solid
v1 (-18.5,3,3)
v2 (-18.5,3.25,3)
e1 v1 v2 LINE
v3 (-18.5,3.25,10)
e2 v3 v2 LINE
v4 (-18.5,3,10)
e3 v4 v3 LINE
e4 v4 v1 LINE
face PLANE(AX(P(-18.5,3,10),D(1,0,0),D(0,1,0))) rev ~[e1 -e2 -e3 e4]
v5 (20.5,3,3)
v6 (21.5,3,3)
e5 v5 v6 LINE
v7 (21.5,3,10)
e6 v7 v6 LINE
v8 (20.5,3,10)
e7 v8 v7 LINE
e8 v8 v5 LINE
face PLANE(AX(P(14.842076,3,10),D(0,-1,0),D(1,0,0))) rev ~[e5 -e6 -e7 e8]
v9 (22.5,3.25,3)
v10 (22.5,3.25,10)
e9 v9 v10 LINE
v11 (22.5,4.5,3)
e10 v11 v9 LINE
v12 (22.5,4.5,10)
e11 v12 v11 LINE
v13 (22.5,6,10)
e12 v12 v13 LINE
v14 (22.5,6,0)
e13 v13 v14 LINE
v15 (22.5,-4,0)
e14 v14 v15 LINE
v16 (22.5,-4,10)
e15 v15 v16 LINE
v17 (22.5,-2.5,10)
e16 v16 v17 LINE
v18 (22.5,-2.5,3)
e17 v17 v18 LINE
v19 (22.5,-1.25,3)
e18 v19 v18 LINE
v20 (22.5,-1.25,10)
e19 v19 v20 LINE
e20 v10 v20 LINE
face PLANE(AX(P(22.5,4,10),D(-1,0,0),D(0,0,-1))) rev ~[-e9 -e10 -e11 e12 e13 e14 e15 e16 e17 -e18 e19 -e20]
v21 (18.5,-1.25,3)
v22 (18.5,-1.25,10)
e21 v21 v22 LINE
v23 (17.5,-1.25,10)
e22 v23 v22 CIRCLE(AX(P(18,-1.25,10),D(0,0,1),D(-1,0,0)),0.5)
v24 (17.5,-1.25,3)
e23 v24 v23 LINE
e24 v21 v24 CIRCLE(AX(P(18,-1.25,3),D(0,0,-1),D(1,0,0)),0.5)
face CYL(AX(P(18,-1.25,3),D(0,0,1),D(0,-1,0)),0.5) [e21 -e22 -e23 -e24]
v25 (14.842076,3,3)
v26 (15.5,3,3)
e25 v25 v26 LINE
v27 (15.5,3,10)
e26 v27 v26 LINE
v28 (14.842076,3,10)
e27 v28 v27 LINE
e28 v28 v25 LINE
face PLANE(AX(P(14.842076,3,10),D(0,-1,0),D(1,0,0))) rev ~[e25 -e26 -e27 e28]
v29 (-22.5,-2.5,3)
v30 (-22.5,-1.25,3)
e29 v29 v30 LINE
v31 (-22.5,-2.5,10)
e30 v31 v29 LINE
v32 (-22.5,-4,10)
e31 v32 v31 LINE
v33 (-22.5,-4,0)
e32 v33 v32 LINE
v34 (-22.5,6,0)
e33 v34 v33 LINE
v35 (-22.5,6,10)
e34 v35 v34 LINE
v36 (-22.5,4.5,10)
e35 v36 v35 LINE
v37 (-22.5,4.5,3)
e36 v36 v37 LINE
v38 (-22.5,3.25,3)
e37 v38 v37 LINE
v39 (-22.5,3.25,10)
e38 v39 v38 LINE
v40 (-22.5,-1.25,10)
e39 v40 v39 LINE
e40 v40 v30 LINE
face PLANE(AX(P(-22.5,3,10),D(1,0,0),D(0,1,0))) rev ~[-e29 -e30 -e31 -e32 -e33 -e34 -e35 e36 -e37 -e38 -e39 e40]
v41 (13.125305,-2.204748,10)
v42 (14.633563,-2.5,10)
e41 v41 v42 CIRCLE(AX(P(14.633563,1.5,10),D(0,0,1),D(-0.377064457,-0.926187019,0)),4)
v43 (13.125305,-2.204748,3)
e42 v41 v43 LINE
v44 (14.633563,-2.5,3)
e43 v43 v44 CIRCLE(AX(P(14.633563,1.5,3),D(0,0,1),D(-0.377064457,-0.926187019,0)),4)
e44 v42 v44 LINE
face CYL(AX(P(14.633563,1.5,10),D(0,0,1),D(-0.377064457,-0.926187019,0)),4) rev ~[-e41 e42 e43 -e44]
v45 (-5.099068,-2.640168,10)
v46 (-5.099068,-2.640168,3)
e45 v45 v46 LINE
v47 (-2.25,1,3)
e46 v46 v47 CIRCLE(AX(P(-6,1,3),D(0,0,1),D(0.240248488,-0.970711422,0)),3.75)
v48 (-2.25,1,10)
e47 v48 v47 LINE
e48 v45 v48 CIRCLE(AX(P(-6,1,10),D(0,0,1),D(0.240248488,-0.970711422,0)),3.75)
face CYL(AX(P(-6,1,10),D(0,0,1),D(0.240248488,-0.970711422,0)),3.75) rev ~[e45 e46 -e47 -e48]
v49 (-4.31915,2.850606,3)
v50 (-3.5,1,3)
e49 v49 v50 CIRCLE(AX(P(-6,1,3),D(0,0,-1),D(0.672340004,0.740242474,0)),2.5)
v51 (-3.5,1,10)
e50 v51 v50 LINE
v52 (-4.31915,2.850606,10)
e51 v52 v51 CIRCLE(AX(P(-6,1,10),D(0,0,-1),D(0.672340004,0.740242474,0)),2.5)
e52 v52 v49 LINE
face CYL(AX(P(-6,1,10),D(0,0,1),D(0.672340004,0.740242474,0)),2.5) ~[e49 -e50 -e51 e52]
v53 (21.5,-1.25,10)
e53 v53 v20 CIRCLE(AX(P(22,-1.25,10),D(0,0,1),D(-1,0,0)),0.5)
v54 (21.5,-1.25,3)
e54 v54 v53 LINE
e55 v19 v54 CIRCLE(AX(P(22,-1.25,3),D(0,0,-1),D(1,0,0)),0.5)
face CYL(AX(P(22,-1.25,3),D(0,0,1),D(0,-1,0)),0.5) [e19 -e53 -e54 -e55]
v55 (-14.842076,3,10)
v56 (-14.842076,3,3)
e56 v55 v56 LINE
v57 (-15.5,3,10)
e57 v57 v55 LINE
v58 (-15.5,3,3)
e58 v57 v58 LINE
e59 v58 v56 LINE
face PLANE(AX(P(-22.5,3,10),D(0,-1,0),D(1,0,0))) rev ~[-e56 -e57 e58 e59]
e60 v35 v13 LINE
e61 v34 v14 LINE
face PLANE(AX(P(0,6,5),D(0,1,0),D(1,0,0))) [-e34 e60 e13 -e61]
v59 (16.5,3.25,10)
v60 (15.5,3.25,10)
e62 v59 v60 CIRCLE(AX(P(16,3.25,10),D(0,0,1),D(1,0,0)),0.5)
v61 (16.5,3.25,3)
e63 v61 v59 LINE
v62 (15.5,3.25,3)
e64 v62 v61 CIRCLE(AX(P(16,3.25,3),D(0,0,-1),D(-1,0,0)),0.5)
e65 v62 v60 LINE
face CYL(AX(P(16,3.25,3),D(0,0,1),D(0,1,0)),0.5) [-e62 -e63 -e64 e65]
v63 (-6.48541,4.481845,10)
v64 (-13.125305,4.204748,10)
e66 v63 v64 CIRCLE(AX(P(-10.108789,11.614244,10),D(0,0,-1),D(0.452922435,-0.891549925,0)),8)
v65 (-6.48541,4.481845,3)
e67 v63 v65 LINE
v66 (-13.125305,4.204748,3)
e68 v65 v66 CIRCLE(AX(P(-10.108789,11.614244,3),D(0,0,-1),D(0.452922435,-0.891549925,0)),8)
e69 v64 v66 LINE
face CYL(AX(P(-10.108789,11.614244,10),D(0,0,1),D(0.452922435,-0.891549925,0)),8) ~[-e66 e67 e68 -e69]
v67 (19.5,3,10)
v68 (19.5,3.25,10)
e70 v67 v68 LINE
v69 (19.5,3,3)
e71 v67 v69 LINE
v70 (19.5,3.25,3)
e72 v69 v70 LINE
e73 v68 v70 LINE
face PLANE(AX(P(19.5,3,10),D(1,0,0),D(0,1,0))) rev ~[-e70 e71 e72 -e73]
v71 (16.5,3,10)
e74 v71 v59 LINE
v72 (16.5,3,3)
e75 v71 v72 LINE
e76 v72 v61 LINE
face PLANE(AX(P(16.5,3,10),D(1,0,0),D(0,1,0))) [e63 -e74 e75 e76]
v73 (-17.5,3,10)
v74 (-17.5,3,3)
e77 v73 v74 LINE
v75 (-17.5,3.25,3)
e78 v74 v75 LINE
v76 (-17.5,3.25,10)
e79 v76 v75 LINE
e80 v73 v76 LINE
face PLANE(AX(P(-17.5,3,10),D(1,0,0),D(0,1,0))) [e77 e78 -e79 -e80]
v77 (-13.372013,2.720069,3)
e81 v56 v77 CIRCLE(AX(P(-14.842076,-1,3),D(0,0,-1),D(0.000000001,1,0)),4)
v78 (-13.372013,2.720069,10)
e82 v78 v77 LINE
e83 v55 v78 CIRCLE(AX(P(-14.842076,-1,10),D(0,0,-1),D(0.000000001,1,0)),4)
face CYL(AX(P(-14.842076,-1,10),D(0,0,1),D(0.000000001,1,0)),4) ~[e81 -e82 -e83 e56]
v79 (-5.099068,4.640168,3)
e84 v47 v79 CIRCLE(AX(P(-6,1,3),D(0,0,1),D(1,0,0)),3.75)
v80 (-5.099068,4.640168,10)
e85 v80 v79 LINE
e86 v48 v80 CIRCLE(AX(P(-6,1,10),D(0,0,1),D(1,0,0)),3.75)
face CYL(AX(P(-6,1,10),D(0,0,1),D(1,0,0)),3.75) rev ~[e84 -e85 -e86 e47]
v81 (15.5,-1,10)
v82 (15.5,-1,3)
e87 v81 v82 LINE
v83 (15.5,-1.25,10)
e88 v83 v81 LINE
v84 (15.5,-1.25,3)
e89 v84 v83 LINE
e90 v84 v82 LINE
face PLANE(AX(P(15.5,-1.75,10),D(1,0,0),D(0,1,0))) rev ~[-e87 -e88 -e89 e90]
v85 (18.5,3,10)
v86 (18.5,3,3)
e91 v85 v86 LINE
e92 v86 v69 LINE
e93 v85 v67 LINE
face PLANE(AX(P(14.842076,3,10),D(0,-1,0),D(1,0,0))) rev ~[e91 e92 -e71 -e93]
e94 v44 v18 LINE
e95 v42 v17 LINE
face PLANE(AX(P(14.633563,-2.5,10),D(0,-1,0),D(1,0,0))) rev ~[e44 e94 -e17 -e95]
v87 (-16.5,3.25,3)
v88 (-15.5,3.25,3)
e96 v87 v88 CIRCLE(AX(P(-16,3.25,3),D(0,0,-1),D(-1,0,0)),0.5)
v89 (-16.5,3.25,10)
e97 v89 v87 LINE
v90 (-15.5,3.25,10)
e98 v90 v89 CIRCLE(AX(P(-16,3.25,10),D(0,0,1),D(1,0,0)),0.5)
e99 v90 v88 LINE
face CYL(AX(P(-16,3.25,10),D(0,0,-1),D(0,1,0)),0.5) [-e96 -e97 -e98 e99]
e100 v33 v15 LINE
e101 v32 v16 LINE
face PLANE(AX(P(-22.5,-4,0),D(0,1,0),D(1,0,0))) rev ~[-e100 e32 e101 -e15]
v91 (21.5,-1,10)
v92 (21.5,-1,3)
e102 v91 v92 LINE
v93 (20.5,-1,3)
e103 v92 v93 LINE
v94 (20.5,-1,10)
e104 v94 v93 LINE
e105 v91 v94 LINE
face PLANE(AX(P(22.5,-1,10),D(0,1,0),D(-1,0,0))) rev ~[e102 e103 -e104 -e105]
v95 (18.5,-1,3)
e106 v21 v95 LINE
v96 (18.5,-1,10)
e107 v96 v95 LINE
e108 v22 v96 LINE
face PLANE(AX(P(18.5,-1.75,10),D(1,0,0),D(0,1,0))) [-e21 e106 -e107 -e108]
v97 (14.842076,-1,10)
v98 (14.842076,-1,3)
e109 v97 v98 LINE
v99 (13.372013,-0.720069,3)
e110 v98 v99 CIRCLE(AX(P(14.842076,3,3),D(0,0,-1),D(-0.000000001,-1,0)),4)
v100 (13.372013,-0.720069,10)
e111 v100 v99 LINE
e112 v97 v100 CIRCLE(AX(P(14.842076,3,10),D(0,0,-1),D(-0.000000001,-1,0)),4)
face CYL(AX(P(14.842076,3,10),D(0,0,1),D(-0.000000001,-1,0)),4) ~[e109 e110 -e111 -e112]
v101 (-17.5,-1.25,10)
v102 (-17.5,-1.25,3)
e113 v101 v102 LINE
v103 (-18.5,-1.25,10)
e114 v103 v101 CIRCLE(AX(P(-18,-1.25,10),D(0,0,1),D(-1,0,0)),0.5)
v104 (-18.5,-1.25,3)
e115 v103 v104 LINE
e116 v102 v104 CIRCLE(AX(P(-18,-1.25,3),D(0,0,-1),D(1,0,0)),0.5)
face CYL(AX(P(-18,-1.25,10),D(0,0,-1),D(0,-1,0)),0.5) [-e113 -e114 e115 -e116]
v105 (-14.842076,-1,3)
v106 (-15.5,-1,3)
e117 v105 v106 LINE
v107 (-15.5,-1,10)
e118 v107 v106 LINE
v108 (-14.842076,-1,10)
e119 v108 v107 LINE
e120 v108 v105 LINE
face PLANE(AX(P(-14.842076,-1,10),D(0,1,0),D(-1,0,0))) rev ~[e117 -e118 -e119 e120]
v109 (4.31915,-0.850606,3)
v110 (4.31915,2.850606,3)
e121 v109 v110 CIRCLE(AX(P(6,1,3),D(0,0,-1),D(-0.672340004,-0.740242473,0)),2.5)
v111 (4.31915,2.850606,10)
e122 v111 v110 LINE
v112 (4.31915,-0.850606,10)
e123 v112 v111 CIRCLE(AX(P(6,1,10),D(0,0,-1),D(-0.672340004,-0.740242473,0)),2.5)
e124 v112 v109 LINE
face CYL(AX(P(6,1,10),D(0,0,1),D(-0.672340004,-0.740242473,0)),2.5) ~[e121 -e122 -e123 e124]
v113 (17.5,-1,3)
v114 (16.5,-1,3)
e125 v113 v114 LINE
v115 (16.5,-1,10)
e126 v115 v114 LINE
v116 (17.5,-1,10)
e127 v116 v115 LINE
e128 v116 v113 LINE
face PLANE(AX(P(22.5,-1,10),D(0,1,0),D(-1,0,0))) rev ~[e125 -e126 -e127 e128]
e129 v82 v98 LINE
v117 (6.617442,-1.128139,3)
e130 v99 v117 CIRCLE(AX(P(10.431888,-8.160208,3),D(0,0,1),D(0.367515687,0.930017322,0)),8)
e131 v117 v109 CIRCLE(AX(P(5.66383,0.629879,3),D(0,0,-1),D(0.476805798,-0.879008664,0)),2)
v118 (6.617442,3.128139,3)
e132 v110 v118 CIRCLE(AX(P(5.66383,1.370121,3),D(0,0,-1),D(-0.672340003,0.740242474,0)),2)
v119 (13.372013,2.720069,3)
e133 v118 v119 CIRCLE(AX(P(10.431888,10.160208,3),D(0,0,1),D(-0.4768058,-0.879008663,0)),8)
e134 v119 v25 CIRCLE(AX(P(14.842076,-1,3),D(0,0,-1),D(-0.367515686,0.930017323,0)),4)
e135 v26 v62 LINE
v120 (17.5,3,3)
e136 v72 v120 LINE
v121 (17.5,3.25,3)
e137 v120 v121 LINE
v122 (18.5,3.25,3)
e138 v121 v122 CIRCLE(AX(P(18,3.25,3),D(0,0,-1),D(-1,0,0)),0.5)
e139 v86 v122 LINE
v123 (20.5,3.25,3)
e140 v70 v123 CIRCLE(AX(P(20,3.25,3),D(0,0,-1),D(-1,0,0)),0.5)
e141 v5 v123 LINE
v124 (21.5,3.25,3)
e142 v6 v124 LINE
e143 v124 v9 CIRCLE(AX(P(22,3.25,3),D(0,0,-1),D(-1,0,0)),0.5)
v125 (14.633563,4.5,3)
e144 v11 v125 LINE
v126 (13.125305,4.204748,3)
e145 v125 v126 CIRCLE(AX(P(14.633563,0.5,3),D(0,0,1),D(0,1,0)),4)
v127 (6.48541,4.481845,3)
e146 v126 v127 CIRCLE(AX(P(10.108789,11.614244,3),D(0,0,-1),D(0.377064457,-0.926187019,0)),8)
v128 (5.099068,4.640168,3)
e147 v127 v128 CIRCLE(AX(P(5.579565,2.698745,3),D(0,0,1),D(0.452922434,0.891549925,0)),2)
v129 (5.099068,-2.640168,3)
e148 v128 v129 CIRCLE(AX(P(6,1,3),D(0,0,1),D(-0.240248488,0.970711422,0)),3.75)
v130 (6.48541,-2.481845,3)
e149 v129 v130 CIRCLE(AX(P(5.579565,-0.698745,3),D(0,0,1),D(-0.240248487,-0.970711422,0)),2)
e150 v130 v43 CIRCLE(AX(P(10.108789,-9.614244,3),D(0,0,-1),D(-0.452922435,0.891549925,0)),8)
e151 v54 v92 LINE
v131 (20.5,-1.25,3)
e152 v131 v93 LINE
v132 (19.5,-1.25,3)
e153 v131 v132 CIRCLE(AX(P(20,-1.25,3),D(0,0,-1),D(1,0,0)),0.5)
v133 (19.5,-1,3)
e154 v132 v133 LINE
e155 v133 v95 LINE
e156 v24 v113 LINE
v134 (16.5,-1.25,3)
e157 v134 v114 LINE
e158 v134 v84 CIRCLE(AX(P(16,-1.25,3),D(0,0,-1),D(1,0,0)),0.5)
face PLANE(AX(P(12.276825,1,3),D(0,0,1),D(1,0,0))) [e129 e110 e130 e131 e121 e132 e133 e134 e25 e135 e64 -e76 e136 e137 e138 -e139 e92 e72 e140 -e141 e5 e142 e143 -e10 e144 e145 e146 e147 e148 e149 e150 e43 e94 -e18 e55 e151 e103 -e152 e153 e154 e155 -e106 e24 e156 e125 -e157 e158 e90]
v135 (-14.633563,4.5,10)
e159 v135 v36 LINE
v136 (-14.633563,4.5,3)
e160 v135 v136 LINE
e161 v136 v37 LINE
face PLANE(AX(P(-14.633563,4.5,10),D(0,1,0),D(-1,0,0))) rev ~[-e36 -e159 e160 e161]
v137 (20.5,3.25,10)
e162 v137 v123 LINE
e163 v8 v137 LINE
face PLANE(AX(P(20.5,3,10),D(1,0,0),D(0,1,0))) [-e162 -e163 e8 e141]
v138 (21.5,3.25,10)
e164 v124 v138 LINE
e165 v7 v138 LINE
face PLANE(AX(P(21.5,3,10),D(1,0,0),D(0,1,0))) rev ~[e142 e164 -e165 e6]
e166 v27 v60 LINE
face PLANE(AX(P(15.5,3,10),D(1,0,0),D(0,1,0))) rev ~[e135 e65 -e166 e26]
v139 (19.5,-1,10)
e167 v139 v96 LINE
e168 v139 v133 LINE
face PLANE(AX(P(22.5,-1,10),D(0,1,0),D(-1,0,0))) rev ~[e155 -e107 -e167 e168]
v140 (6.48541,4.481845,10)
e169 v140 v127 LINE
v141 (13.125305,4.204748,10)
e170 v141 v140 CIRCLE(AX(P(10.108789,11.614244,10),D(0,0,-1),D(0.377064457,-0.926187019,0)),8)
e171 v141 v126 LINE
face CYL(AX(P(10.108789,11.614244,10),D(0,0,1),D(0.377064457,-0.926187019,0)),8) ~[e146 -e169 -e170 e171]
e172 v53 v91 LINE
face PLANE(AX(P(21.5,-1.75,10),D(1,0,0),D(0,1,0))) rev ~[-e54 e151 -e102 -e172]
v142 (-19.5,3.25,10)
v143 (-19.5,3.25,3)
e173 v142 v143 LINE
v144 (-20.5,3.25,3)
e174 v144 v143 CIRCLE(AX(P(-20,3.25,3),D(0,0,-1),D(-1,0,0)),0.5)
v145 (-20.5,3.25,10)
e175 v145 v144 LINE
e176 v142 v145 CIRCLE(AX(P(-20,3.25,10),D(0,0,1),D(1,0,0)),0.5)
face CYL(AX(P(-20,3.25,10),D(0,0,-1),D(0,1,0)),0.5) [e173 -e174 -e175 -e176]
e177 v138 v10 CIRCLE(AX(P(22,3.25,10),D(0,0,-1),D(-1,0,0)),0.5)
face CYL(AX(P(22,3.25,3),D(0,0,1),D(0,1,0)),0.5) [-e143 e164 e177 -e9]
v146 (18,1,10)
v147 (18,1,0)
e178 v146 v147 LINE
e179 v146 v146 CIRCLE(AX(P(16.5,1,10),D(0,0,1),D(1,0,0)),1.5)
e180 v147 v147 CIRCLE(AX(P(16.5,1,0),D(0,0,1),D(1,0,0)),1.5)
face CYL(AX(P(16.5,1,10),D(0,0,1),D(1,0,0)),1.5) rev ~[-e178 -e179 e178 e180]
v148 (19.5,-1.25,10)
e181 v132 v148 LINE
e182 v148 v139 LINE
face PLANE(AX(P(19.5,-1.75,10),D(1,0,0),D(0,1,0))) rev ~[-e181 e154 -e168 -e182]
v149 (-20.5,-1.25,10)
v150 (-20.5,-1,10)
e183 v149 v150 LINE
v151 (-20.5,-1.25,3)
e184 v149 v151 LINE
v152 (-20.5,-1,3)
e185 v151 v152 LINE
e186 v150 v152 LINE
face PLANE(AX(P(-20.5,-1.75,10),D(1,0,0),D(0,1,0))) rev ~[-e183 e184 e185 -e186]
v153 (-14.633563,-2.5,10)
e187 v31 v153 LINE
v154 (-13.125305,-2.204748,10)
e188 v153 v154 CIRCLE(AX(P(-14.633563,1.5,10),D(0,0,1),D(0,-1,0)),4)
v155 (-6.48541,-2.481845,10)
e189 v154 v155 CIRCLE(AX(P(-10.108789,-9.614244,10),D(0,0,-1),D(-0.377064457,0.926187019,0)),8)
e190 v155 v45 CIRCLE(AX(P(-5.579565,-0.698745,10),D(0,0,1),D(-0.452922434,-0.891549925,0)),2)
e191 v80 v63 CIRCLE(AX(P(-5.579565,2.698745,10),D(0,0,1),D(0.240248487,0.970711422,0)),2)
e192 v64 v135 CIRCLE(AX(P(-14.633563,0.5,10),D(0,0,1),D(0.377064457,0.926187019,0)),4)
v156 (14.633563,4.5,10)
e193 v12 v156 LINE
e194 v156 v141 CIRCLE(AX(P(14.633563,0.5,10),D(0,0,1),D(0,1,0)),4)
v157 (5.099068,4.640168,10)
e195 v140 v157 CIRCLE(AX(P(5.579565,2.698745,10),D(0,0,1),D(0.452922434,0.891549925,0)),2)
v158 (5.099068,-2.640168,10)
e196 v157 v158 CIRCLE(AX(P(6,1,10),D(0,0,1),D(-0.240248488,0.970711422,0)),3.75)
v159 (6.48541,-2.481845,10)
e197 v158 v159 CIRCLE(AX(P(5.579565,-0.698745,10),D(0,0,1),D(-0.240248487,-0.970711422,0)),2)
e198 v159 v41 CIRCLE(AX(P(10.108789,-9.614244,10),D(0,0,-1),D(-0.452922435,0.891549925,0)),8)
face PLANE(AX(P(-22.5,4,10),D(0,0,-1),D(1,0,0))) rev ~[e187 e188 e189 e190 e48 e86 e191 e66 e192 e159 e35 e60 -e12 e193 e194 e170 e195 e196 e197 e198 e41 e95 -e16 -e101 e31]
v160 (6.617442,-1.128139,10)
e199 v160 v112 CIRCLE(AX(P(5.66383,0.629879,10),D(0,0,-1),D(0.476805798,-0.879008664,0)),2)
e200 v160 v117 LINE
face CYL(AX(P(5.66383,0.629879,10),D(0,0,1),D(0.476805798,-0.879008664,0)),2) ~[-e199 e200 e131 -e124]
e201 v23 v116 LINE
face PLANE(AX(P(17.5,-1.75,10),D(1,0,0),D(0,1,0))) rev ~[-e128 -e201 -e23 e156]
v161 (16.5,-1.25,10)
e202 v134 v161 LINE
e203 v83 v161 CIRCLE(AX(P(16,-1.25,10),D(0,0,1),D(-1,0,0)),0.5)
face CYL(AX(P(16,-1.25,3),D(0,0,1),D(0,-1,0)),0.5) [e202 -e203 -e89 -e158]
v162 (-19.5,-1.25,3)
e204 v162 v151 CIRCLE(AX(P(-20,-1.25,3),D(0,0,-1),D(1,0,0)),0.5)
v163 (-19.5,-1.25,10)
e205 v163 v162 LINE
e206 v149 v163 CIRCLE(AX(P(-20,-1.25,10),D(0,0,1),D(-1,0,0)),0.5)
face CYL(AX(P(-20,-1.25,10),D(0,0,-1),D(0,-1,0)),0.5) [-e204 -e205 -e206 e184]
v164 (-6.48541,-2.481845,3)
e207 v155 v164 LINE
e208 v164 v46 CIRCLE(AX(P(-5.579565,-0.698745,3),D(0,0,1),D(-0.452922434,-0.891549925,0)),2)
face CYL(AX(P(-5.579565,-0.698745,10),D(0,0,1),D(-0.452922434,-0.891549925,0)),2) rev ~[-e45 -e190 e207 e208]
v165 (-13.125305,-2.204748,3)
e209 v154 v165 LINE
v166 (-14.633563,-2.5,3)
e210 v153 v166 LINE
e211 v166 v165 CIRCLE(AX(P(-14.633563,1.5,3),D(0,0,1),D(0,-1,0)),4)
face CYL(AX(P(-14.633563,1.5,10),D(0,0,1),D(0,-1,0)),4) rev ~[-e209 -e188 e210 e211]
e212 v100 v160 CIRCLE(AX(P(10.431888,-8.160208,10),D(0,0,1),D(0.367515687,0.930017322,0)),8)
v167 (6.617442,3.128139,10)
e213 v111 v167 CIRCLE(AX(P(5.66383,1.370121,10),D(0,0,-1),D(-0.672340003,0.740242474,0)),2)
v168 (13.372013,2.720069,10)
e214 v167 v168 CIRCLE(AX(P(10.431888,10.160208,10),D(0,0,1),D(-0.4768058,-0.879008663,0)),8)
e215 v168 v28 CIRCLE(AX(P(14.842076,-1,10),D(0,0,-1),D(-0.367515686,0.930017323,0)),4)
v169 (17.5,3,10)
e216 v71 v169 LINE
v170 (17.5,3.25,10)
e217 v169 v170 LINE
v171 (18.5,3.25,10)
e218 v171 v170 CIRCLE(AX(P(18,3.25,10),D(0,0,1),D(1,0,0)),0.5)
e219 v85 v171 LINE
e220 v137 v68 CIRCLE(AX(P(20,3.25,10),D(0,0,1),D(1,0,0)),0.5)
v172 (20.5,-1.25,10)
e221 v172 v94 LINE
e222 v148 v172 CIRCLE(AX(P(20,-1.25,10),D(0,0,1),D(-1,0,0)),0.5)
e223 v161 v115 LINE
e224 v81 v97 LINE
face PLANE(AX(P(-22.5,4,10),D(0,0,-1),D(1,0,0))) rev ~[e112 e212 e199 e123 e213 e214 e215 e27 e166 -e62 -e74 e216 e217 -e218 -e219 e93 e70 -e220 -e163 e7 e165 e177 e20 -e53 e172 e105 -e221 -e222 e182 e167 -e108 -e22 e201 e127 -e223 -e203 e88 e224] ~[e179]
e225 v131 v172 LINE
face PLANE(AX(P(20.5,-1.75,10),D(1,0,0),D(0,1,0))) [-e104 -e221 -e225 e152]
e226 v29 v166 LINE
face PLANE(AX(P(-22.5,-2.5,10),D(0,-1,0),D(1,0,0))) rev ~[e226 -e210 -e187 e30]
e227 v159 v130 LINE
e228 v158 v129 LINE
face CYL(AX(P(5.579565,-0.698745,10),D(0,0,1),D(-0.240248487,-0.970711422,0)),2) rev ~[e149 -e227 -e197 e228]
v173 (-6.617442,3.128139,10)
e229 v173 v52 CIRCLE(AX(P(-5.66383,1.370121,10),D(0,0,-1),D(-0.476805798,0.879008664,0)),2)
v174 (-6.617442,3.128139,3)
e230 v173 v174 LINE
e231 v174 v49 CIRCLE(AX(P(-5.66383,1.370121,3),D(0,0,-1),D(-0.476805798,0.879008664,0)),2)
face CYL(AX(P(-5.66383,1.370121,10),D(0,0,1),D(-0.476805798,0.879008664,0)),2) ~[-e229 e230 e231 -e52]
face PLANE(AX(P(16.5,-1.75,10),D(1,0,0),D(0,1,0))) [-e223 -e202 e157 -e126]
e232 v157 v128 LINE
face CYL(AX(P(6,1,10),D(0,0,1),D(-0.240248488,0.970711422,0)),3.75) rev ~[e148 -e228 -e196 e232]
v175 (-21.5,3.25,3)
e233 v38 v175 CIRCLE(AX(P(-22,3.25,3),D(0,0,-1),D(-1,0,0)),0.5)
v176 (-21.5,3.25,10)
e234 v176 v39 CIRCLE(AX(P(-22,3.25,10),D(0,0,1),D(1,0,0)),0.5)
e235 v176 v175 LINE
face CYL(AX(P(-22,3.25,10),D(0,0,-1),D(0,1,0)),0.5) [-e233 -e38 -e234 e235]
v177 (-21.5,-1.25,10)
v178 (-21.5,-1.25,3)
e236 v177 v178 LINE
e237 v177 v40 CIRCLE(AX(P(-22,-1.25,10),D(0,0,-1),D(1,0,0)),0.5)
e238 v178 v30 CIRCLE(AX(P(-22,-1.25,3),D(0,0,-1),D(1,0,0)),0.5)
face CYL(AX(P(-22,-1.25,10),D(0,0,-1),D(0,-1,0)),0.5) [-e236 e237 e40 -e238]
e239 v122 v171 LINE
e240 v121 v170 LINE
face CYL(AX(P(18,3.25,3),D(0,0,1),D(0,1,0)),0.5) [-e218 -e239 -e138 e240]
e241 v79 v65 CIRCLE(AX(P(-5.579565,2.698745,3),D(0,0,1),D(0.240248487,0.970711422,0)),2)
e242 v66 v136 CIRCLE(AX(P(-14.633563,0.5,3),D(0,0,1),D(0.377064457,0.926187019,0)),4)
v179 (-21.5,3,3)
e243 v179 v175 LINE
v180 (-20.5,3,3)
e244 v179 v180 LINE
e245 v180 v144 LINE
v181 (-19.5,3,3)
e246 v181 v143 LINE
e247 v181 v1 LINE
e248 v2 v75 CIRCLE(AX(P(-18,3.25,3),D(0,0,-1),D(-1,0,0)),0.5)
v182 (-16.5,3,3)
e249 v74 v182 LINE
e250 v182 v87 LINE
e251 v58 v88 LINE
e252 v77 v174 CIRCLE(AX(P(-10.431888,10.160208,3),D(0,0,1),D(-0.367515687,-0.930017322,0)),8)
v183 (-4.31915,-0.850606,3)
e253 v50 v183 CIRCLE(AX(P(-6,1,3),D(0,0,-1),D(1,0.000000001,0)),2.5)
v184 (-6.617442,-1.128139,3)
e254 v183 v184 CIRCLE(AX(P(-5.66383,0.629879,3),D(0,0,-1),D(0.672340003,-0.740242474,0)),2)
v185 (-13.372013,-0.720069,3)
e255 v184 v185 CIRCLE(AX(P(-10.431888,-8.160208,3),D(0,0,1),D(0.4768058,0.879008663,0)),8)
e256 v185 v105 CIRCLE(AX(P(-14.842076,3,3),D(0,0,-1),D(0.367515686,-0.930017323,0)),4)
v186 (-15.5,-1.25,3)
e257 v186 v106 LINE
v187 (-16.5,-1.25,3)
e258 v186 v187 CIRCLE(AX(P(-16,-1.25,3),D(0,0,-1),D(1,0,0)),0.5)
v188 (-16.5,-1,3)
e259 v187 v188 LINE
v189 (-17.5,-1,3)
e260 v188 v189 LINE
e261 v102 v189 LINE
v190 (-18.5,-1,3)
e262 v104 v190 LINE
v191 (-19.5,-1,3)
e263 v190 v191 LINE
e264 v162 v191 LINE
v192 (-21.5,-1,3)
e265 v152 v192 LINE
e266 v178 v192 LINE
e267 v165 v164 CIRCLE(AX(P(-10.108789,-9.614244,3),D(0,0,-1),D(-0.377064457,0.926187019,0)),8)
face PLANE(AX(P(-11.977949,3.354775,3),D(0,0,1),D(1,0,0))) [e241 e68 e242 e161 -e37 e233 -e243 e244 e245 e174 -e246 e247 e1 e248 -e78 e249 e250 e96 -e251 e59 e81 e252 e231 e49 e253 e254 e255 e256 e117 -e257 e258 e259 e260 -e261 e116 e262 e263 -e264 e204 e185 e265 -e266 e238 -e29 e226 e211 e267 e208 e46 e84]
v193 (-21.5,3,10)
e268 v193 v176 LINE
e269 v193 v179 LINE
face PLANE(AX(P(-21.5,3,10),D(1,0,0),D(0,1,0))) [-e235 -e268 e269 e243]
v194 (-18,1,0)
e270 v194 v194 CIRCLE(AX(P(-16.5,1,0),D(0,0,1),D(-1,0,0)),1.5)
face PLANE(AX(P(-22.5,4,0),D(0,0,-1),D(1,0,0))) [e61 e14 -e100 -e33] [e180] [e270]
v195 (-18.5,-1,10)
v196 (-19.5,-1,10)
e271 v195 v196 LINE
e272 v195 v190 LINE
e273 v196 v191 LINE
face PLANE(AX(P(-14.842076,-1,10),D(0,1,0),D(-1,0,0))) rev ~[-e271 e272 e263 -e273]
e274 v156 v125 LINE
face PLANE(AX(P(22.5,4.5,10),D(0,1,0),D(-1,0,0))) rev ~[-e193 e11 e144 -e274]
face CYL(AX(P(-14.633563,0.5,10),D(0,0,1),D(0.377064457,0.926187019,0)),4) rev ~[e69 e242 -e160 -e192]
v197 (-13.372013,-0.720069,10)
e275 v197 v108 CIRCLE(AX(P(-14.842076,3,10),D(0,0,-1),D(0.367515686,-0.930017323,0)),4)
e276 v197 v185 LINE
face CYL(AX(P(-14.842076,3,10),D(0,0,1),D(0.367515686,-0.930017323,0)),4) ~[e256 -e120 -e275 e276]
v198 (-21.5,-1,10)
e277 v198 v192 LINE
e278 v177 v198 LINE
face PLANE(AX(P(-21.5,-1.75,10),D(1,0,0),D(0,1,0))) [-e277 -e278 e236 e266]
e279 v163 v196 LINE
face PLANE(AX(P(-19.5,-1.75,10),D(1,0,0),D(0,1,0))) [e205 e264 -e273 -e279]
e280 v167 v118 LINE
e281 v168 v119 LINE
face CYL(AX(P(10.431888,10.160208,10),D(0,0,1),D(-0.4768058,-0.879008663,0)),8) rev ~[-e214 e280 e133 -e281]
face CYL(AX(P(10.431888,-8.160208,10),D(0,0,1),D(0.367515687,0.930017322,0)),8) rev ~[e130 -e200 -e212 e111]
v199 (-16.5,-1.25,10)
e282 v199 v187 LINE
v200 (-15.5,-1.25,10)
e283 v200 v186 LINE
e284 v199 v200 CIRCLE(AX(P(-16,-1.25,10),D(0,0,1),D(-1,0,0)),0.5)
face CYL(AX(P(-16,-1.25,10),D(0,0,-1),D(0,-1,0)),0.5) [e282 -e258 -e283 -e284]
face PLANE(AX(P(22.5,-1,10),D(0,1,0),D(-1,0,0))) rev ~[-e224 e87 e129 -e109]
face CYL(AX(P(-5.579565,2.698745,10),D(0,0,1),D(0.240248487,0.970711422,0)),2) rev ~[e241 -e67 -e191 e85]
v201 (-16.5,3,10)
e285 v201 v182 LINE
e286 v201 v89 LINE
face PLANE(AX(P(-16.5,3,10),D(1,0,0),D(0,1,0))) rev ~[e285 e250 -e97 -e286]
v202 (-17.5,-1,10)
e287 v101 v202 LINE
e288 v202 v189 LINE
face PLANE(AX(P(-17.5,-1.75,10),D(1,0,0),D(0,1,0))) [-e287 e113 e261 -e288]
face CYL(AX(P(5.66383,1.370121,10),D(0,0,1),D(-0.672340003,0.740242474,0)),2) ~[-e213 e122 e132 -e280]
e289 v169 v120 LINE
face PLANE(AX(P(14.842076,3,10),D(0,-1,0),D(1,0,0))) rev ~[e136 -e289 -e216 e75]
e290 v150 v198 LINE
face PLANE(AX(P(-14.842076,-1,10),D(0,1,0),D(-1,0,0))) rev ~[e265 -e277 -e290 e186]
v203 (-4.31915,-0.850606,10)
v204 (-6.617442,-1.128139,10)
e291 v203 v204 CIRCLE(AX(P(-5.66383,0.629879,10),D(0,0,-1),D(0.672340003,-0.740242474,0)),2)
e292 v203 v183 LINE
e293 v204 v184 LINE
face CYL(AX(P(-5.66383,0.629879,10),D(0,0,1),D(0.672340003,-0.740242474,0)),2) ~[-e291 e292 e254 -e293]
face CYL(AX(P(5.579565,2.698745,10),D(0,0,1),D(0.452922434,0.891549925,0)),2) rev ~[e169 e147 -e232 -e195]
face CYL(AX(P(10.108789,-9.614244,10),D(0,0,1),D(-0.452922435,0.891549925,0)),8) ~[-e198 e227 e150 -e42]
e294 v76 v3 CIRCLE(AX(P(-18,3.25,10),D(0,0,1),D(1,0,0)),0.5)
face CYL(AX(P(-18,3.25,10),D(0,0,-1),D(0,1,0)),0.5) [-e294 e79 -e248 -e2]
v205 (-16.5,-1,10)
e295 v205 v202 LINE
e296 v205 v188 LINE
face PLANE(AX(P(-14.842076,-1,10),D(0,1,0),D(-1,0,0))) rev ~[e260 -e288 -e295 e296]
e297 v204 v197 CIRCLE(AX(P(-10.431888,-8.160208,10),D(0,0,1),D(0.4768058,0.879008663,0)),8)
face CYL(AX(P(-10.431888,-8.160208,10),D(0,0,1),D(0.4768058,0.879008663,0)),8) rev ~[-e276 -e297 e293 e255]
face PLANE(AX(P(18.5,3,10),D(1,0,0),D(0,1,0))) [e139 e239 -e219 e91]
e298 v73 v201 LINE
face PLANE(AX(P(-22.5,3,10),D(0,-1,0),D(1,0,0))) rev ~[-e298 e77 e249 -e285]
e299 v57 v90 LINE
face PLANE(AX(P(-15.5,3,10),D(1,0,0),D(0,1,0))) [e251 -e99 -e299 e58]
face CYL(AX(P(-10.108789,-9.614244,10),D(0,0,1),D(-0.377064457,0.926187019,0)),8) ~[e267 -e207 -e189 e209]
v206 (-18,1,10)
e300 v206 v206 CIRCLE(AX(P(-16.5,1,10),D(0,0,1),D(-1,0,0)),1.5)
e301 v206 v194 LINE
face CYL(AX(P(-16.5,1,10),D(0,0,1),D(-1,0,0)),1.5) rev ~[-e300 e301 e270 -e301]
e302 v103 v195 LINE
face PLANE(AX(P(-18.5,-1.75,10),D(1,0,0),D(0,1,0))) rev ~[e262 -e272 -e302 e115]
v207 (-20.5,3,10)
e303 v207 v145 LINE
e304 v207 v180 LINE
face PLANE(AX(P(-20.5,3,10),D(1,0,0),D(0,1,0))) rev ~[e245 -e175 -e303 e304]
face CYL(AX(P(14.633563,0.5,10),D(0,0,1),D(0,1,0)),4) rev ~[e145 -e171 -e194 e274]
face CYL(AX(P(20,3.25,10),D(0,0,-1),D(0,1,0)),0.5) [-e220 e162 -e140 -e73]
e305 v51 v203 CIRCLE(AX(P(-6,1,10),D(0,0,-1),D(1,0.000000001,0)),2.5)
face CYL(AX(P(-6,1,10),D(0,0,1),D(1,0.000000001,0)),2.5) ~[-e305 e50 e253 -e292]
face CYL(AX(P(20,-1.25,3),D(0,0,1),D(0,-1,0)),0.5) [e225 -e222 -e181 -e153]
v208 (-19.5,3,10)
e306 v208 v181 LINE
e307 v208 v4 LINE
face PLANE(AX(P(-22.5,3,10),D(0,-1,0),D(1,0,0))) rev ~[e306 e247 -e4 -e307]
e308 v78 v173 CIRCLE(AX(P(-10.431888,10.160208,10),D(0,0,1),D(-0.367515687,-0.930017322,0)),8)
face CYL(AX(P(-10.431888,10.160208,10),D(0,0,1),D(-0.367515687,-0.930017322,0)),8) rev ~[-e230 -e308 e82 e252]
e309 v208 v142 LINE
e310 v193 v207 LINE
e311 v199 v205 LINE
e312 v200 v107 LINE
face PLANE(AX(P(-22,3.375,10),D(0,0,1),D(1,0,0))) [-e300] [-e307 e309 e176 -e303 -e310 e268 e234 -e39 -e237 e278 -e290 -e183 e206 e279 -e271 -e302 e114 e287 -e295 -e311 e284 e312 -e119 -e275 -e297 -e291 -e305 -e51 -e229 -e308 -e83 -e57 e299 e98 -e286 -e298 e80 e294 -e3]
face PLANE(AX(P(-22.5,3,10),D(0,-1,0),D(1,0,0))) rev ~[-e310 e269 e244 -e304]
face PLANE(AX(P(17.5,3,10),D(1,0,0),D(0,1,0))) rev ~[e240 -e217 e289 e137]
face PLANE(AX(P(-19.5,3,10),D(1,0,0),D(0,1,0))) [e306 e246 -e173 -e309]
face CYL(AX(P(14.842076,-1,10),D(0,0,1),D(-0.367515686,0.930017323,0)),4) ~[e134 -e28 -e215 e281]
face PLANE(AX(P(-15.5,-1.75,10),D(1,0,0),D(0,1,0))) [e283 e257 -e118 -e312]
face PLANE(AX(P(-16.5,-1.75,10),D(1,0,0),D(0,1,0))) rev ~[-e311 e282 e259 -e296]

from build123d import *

# Parameters (mm, degrees)
SKETCH_1_W          = 45
SKETCH_1_H          = 8
EXTRUDE_1_DEPTH     = 10
SKETCH_4_W          = 45
SKETCH_4_H          = 10
EXTRUDE_2_DEPTH     = 2
CUT_EXTRUDE_1_DEPTH = 7
SKETCH_7_W          = 1
SKETCH_7_H          = 0.75
EXTRUDE_3_DEPTH     = 7
FILLET_2_RADIUS     = 0.5
FILLET_2_LENGTH     = 7
FILLET_3_RADIUS     = 0.5
FILLET_3_LENGTH     = 7
FILLET_4_RADIUS     = 0.5
FILLET_4_LENGTH     = 7
FILLET_5_RADIUS     = 0.5
FILLET_5_LENGTH     = 7
FILLET_7_RADIUS     = 0.5
FILLET_7_LENGTH     = 7
FILLET_8_RADIUS     = 0.5
FILLET_8_LENGTH     = 7
FILLET_9_RADIUS     = 0.5
FILLET_9_LENGTH     = 7
FILLET_10_RADIUS    = 0.5
FILLET_10_LENGTH    = 7
FILLET_11_RADIUS    = 0.5
FILLET_11_LENGTH    = 7
FILLET_12_RADIUS    = 0.5
FILLET_12_LENGTH    = 7
FILLET_13_RADIUS    = 0.5
FILLET_13_LENGTH    = 7
FILLET_14_RADIUS    = 0.5
FILLET_14_LENGTH    = 7
FILLET_15_RADIUS    = 0.5
FILLET_15_LENGTH    = 7
FILLET_16_RADIUS    = 0.5
FILLET_16_LENGTH    = 7
FILLET_17_RADIUS    = 0.5
FILLET_17_LENGTH    = 7
FILLET_18_RADIUS    = 0.5
FILLET_18_LENGTH    = 7
SKETCH_8_R          = 1.5
CUT_EXTRUDE_3_DEPTH = 26.342651795


with BuildPart() as part:
    # Эскиз1 → Бобышка-Вытянуть1 (new body)
    with BuildSketch(Plane.XY):
        Rectangle(SKETCH_1_W, SKETCH_1_H)
    extrude(amount=EXTRUDE_1_DEPTH)

    # Эскиз4 → Бобышка-Вытянуть2 (add)
    with BuildSketch(Plane(origin=(0, 4, 0), x_dir=(1, 0, 0), z_dir=(0, 1, 0))):
        with Locations((0, -5)):
            Rectangle(SKETCH_4_W, SKETCH_4_H)
    extrude(amount=EXTRUDE_2_DEPTH)

    # Эскиз6 → Вырез-Вытянуть1 (cut)
    with BuildSketch(Plane.XY.offset(10)):
        with BuildLine():
            Line((-3.5, 1), (-2.25, 1))
            ThreePointArc((-2.25, 1), (-3.046951205, 3.311277313), (-5.099068169, 4.640167831))
            ThreePointArc((-5.099068169, 4.640167831), (-5.806494099, 4.685829095), (-6.485410015, 4.481844837))
            ThreePointArc((-6.485410015, 4.481844837), (-9.775223042, 3.62120142), (-13.125305151, 4.204748078))
            ThreePointArc((-13.125305151, 4.204748078), (-13.865120501, 4.42549311), (-14.63356298, 4.5))
            Line((-14.63356298, 4.5), (-22.5, 4.5))
            Line((-22.5, 4.5), (-22.5, 3.75))
            Line((-22.5, 3.75), (-22.5, 3))
            Line((-22.5, 3), (-17, 3))
            Line((-17, 3), (-14.842076238, 3))
            ThreePointArc((-14.842076238, 3), (-14.093837358, 2.929394174), (-13.372013489, 2.720069289))
            ThreePointArc((-13.372013489, 2.720069289), (-9.949457281, 2.174767327), (-6.617441597, 3.128138563))
            ThreePointArc((-6.617441597, 3.128138563), (-5.42405994, 3.3556968), (-4.31914999, 2.850606183))
            ThreePointArc((-4.31914999, 2.850606183), (-3.713941708, 2.011897963), (-3.5, 1))
        make_face()
        with BuildLine():
            ThreePointArc((-5.099068169, -2.640167831), (-3.046951205, -1.311277313), (-2.25, 1))
            Line((-2.25, 1), (-3.5, 1))
            ThreePointArc((-3.5, 1), (-3.713941708, -0.011897963), (-4.31914999, -0.850606183))
            ThreePointArc((-4.31914999, -0.850606183), (-5.42405994, -1.3556968), (-6.617441597, -1.128138563))
            ThreePointArc((-6.617441597, -1.128138563), (-9.949457281, -0.174767327), (-13.372013489, -0.720069289))
            ThreePointArc((-13.372013489, -0.720069289), (-14.093837358, -0.929394174), (-14.842076238, -1))
            Line((-14.842076238, -1), (-17, -1))
            Line((-17, -1), (-22.5, -1))
            Line((-22.5, -1), (-22.5, -2.5))
            Line((-22.5, -2.5), (-14.63356298, -2.5))
            ThreePointArc((-14.63356298, -2.5), (-13.865120501, -2.42549311), (-13.125305151, -2.204748078))
            ThreePointArc((-13.125305151, -2.204748078), (-9.775223042, -1.62120142), (-6.485410015, -2.481844837))
            ThreePointArc((-6.485410015, -2.481844837), (-5.806494099, -2.685829095), (-5.099068169, -2.640167831))
        make_face()
        with BuildLine():
            Line((14.63356298, -2.5), (22.5, -2.5))
            Line((22.5, -2.5), (22.5, -1))
            Line((22.5, -1), (17, -1))
            Line((17, -1), (14.842076238, -1))
            ThreePointArc((14.842076238, -1), (14.093837358, -0.929394174), (13.372013489, -0.720069289))
            ThreePointArc((13.372013489, -0.720069289), (9.949457281, -0.174767327), (6.617441597, -1.128138563))
            ThreePointArc((6.617441597, -1.128138563), (5.42405994, -1.3556968), (4.31914999, -0.850606183))
            ThreePointArc((4.31914999, -0.850606183), (3.5, 1), (4.31914999, 2.850606183))
            ThreePointArc((4.31914999, 2.850606183), (5.42405994, 3.3556968), (6.617441597, 3.128138563))
            ThreePointArc((6.617441597, 3.128138563), (9.949457281, 2.174767327), (13.372013489, 2.720069289))
            ThreePointArc((13.372013489, 2.720069289), (14.093837358, 2.929394174), (14.842076238, 3))
            Line((14.842076238, 3), (17, 3))
            Line((17, 3), (22.5, 3))
            Line((22.5, 3), (22.5, 3.75))
            Line((22.5, 3.75), (22.5, 4.5))
            Line((22.5, 4.5), (14.63356298, 4.5))
            ThreePointArc((14.63356298, 4.5), (13.865120501, 4.42549311), (13.125305151, 4.204748078))
            ThreePointArc((13.125305151, 4.204748078), (9.775223042, 3.62120142), (6.485410015, 4.481844837))
            ThreePointArc((6.485410015, 4.481844837), (5.806494099, 4.685829095), (5.099068169, 4.640167831))
            ThreePointArc((5.099068169, 4.640167831), (2.25, 1), (5.099068169, -2.640167831))
            ThreePointArc((5.099068169, -2.640167831), (5.806494099, -2.685829095), (6.485410015, -2.481844837))
            ThreePointArc((6.485410015, -2.481844837), (9.775223042, -1.62120142), (13.125305151, -2.204748078))
            ThreePointArc((13.125305151, -2.204748078), (13.865120501, -2.42549311), (14.63356298, -2.5))
        make_face()
    extrude(amount=-CUT_EXTRUDE_1_DEPTH, mode=Mode.SUBTRACT)

    # Эскиз7 → Бобышка-Вытянуть3 (add)
    with BuildSketch(Plane.XY.offset(10)):
        with Locations((-22, 3.375)):
            Rectangle(SKETCH_7_W, SKETCH_7_H)
        with Locations((-20, 3.375)):
            Rectangle(SKETCH_7_W, SKETCH_7_H)
        with Locations((-18, 3.375)):
            Rectangle(SKETCH_7_W, SKETCH_7_H)
        with Locations((-16, 3.375)):
            Rectangle(SKETCH_7_W, SKETCH_7_H)
        with Locations((-22, -1.375)):
            Rectangle(SKETCH_7_W, SKETCH_7_H)
        with Locations((-20, -1.375)):
            Rectangle(SKETCH_7_W, SKETCH_7_H)
        with Locations((-18, -1.375)):
            Rectangle(SKETCH_7_W, SKETCH_7_H)
        with Locations((-16, -1.375)):
            Rectangle(SKETCH_7_W, SKETCH_7_H)
        with Locations((16, 3.375)):
            Rectangle(SKETCH_7_W, SKETCH_7_H)
        with Locations((18, 3.375)):
            Rectangle(SKETCH_7_W, SKETCH_7_H)
        with Locations((22, 3.375)):
            Rectangle(SKETCH_7_W, SKETCH_7_H)
        with Locations((22, -1.375)):
            Rectangle(SKETCH_7_W, SKETCH_7_H)
        with Locations((20, -1.375)):
            Rectangle(SKETCH_7_W, SKETCH_7_H)
        with Locations((18, -1.375)):
            Rectangle(SKETCH_7_W, SKETCH_7_H)
        with Locations((16, -1.375)):
            Rectangle(SKETCH_7_W, SKETCH_7_H)
        with Locations((20, 3.375)):
            Rectangle(SKETCH_7_W, SKETCH_7_H)
    extrude(amount=-EXTRUDE_3_DEPTH)

    # Скругление2: full round fillet: the end face becomes a half cylinder, R = half its width
    fillet_2_face = Plane((-20, 3.75, 6.5), x_dir=(0, 0, -1), z_dir=(0, 1, 0))  # on the end face: x along it, z out of the body
    fillet_2_slab = fillet_2_face.offset(-FILLET_2_RADIUS / 2) * Box(FILLET_2_LENGTH, 2 * FILLET_2_RADIUS, FILLET_2_RADIUS, mode=Mode.PRIVATE)  # the body's end, R deep
    fillet_2_round = Plane((-20, 3.25, 6.5), x_dir=(0, 1, 0), z_dir=(0, 0, -1)) * Cylinder(FILLET_2_RADIUS, FILLET_2_LENGTH, mode=Mode.PRIVATE)  # its axis R under the face
    add(fillet_2_slab - fillet_2_round, mode=Mode.SUBTRACT)

    # Скругление3: full round fillet: the end face becomes a half cylinder, R = half its width
    fillet_3_face = Plane((-18, 3.75, 6.5), x_dir=(0, 0, -1), z_dir=(0, 1, 0))  # on the end face: x along it, z out of the body
    fillet_3_slab = fillet_3_face.offset(-FILLET_3_RADIUS / 2) * Box(FILLET_3_LENGTH, 2 * FILLET_3_RADIUS, FILLET_3_RADIUS, mode=Mode.PRIVATE)  # the body's end, R deep
    fillet_3_round = Plane((-18, 3.25, 6.5), x_dir=(0, 1, 0), z_dir=(0, 0, -1)) * Cylinder(FILLET_3_RADIUS, FILLET_3_LENGTH, mode=Mode.PRIVATE)  # its axis R under the face
    add(fillet_3_slab - fillet_3_round, mode=Mode.SUBTRACT)

    # Скругление4: full round fillet: the end face becomes a half cylinder, R = half its width
    fillet_4_face = Plane((-16, 3.75, 6.5), x_dir=(0, 0, -1), z_dir=(0, 1, 0))  # on the end face: x along it, z out of the body
    fillet_4_slab = fillet_4_face.offset(-FILLET_4_RADIUS / 2) * Box(FILLET_4_LENGTH, 2 * FILLET_4_RADIUS, FILLET_4_RADIUS, mode=Mode.PRIVATE)  # the body's end, R deep
    fillet_4_round = Plane((-16, 3.25, 6.5), x_dir=(0, 1, 0), z_dir=(0, 0, -1)) * Cylinder(FILLET_4_RADIUS, FILLET_4_LENGTH, mode=Mode.PRIVATE)  # its axis R under the face
    add(fillet_4_slab - fillet_4_round, mode=Mode.SUBTRACT)

    # Скругление5: full round fillet: the end face becomes a half cylinder, R = half its width
    fillet_5_face = Plane((-22, 3.75, 6.5), x_dir=(0, 0, -1), z_dir=(0, 1, 0))  # on the end face: x along it, z out of the body
    fillet_5_slab = fillet_5_face.offset(-FILLET_5_RADIUS / 2) * Box(FILLET_5_LENGTH, 2 * FILLET_5_RADIUS, FILLET_5_RADIUS, mode=Mode.PRIVATE)  # the body's end, R deep
    fillet_5_round = Plane((-22, 3.25, 6.5), x_dir=(0, 1, 0), z_dir=(0, 0, -1)) * Cylinder(FILLET_5_RADIUS, FILLET_5_LENGTH, mode=Mode.PRIVATE)  # its axis R under the face
    add(fillet_5_slab - fillet_5_round, mode=Mode.SUBTRACT)

    # Скругление7: full round fillet: the end face becomes a half cylinder, R = half its width
    fillet_7_face = Plane((-22, -1.75, 6.5), x_dir=(0, 0, -1), z_dir=(0, -1, 0))  # on the end face: x along it, z out of the body
    fillet_7_slab = fillet_7_face.offset(-FILLET_7_RADIUS / 2) * Box(FILLET_7_LENGTH, 2 * FILLET_7_RADIUS, FILLET_7_RADIUS, mode=Mode.PRIVATE)  # the body's end, R deep
    fillet_7_round = Plane((-22, -1.25, 6.5), x_dir=(0, -1, 0), z_dir=(0, 0, -1)) * Cylinder(FILLET_7_RADIUS, FILLET_7_LENGTH, mode=Mode.PRIVATE)  # its axis R under the face
    add(fillet_7_slab - fillet_7_round, mode=Mode.SUBTRACT)

    # Скругление8: full round fillet: the end face becomes a half cylinder, R = half its width
    fillet_8_face = Plane((-20, -1.75, 6.5), x_dir=(0, 0, -1), z_dir=(0, -1, 0))  # on the end face: x along it, z out of the body
    fillet_8_slab = fillet_8_face.offset(-FILLET_8_RADIUS / 2) * Box(FILLET_8_LENGTH, 2 * FILLET_8_RADIUS, FILLET_8_RADIUS, mode=Mode.PRIVATE)  # the body's end, R deep
    fillet_8_round = Plane((-20, -1.25, 6.5), x_dir=(0, -1, 0), z_dir=(0, 0, -1)) * Cylinder(FILLET_8_RADIUS, FILLET_8_LENGTH, mode=Mode.PRIVATE)  # its axis R under the face
    add(fillet_8_slab - fillet_8_round, mode=Mode.SUBTRACT)

    # Скругление9: full round fillet: the end face becomes a half cylinder, R = half its width
    fillet_9_face = Plane((-18, -1.75, 6.5), x_dir=(0, 0, -1), z_dir=(0, -1, 0))  # on the end face: x along it, z out of the body
    fillet_9_slab = fillet_9_face.offset(-FILLET_9_RADIUS / 2) * Box(FILLET_9_LENGTH, 2 * FILLET_9_RADIUS, FILLET_9_RADIUS, mode=Mode.PRIVATE)  # the body's end, R deep
    fillet_9_round = Plane((-18, -1.25, 6.5), x_dir=(0, -1, 0), z_dir=(0, 0, -1)) * Cylinder(FILLET_9_RADIUS, FILLET_9_LENGTH, mode=Mode.PRIVATE)  # its axis R under the face
    add(fillet_9_slab - fillet_9_round, mode=Mode.SUBTRACT)

    # Скругление10: full round fillet: the end face becomes a half cylinder, R = half its width
    fillet_10_face = Plane((-16, -1.75, 6.5), x_dir=(0, 0, -1), z_dir=(0, -1, 0))  # on the end face: x along it, z out of the body
    fillet_10_slab = fillet_10_face.offset(-FILLET_10_RADIUS / 2) * Box(FILLET_10_LENGTH, 2 * FILLET_10_RADIUS, FILLET_10_RADIUS, mode=Mode.PRIVATE)  # the body's end, R deep
    fillet_10_round = Plane((-16, -1.25, 6.5), x_dir=(0, -1, 0), z_dir=(0, 0, -1)) * Cylinder(FILLET_10_RADIUS, FILLET_10_LENGTH, mode=Mode.PRIVATE)  # its axis R under the face
    add(fillet_10_slab - fillet_10_round, mode=Mode.SUBTRACT)

    # Скругление11: full round fillet: the end face becomes a half cylinder, R = half its width
    fillet_11_face = Plane((22, -1.75, 6.5), x_dir=(0, 0, 1), z_dir=(0, -1, 0))  # on the end face: x along it, z out of the body
    fillet_11_slab = fillet_11_face.offset(-FILLET_11_RADIUS / 2) * Box(FILLET_11_LENGTH, 2 * FILLET_11_RADIUS, FILLET_11_RADIUS, mode=Mode.PRIVATE)  # the body's end, R deep
    fillet_11_round = Plane((22, -1.25, 6.5), x_dir=(0, -1, 0), z_dir=(0, 0, 1)) * Cylinder(FILLET_11_RADIUS, FILLET_11_LENGTH, mode=Mode.PRIVATE)  # its axis R under the face
    add(fillet_11_slab - fillet_11_round, mode=Mode.SUBTRACT)

    # Скругление12: full round fillet: the end face becomes a half cylinder, R = half its width
    fillet_12_face = Plane((20, -1.75, 6.5), x_dir=(0, 0, 1), z_dir=(0, -1, 0))  # on the end face: x along it, z out of the body
    fillet_12_slab = fillet_12_face.offset(-FILLET_12_RADIUS / 2) * Box(FILLET_12_LENGTH, 2 * FILLET_12_RADIUS, FILLET_12_RADIUS, mode=Mode.PRIVATE)  # the body's end, R deep
    fillet_12_round = Plane((20, -1.25, 6.5), x_dir=(0, -1, 0), z_dir=(0, 0, 1)) * Cylinder(FILLET_12_RADIUS, FILLET_12_LENGTH, mode=Mode.PRIVATE)  # its axis R under the face
    add(fillet_12_slab - fillet_12_round, mode=Mode.SUBTRACT)

    # Скругление13: full round fillet: the end face becomes a half cylinder, R = half its width
    fillet_13_face = Plane((18, -1.75, 6.5), x_dir=(0, 0, 1), z_dir=(0, -1, 0))  # on the end face: x along it, z out of the body
    fillet_13_slab = fillet_13_face.offset(-FILLET_13_RADIUS / 2) * Box(FILLET_13_LENGTH, 2 * FILLET_13_RADIUS, FILLET_13_RADIUS, mode=Mode.PRIVATE)  # the body's end, R deep
    fillet_13_round = Plane((18, -1.25, 6.5), x_dir=(0, -1, 0), z_dir=(0, 0, 1)) * Cylinder(FILLET_13_RADIUS, FILLET_13_LENGTH, mode=Mode.PRIVATE)  # its axis R under the face
    add(fillet_13_slab - fillet_13_round, mode=Mode.SUBTRACT)

    # Скругление14: full round fillet: the end face becomes a half cylinder, R = half its width
    fillet_14_face = Plane((16, -1.75, 6.5), x_dir=(0, 0, 1), z_dir=(0, -1, 0))  # on the end face: x along it, z out of the body
    fillet_14_slab = fillet_14_face.offset(-FILLET_14_RADIUS / 2) * Box(FILLET_14_LENGTH, 2 * FILLET_14_RADIUS, FILLET_14_RADIUS, mode=Mode.PRIVATE)  # the body's end, R deep
    fillet_14_round = Plane((16, -1.25, 6.5), x_dir=(0, -1, 0), z_dir=(0, 0, 1)) * Cylinder(FILLET_14_RADIUS, FILLET_14_LENGTH, mode=Mode.PRIVATE)  # its axis R under the face
    add(fillet_14_slab - fillet_14_round, mode=Mode.SUBTRACT)

    # Скругление15: full round fillet: the end face becomes a half cylinder, R = half its width
    fillet_15_face = Plane((16, 3.75, 6.5), x_dir=(0, 0, 1), z_dir=(0, 1, 0))  # on the end face: x along it, z out of the body
    fillet_15_slab = fillet_15_face.offset(-FILLET_15_RADIUS / 2) * Box(FILLET_15_LENGTH, 2 * FILLET_15_RADIUS, FILLET_15_RADIUS, mode=Mode.PRIVATE)  # the body's end, R deep
    fillet_15_round = Plane((16, 3.25, 6.5), x_dir=(0, 1, 0), z_dir=(0, 0, 1)) * Cylinder(FILLET_15_RADIUS, FILLET_15_LENGTH, mode=Mode.PRIVATE)  # its axis R under the face
    add(fillet_15_slab - fillet_15_round, mode=Mode.SUBTRACT)

    # Скругление16: full round fillet: the end face becomes a half cylinder, R = half its width
    fillet_16_face = Plane((18, 3.75, 6.5), x_dir=(0, 0, 1), z_dir=(0, 1, 0))  # on the end face: x along it, z out of the body
    fillet_16_slab = fillet_16_face.offset(-FILLET_16_RADIUS / 2) * Box(FILLET_16_LENGTH, 2 * FILLET_16_RADIUS, FILLET_16_RADIUS, mode=Mode.PRIVATE)  # the body's end, R deep
    fillet_16_round = Plane((18, 3.25, 6.5), x_dir=(0, 1, 0), z_dir=(0, 0, 1)) * Cylinder(FILLET_16_RADIUS, FILLET_16_LENGTH, mode=Mode.PRIVATE)  # its axis R under the face
    add(fillet_16_slab - fillet_16_round, mode=Mode.SUBTRACT)

    # Скругление17: full round fillet: the end face becomes a half cylinder, R = half its width
    fillet_17_face = Plane((20, 3.75, 6.5), x_dir=(0, 0, -1), z_dir=(0, 1, 0))  # on the end face: x along it, z out of the body
    fillet_17_slab = fillet_17_face.offset(-FILLET_17_RADIUS / 2) * Box(FILLET_17_LENGTH, 2 * FILLET_17_RADIUS, FILLET_17_RADIUS, mode=Mode.PRIVATE)  # the body's end, R deep
    fillet_17_round = Plane((20, 3.25, 6.5), x_dir=(0, 1, 0), z_dir=(0, 0, -1)) * Cylinder(FILLET_17_RADIUS, FILLET_17_LENGTH, mode=Mode.PRIVATE)  # its axis R under the face
    add(fillet_17_slab - fillet_17_round, mode=Mode.SUBTRACT)

    # Скругление18: full round fillet: the end face becomes a half cylinder, R = half its width
    fillet_18_face = Plane((22, 3.75, 6.5), x_dir=(0, 0, 1), z_dir=(0, 1, 0))  # on the end face: x along it, z out of the body
    fillet_18_slab = fillet_18_face.offset(-FILLET_18_RADIUS / 2) * Box(FILLET_18_LENGTH, 2 * FILLET_18_RADIUS, FILLET_18_RADIUS, mode=Mode.PRIVATE)  # the body's end, R deep
    fillet_18_round = Plane((22, 3.25, 6.5), x_dir=(0, 1, 0), z_dir=(0, 0, 1)) * Cylinder(FILLET_18_RADIUS, FILLET_18_LENGTH, mode=Mode.PRIVATE)  # its axis R under the face
    add(fillet_18_slab - fillet_18_round, mode=Mode.SUBTRACT)

    # Эскиз8 → Вырез-Вытянуть3 (cut, through all)
    with BuildSketch(Plane.XY.offset(10)):
        with BuildLine():
            Line((-18, 1), (-16.5, 1))
            Line((-16.5, 1), (-15, 1))
            ThreePointArc((-15, 1), (-16.5, 2.5), (-18, 1))
        make_face()
        with BuildLine():
            Line((-15, 1), (-16.5, 1))
            Line((-16.5, 1), (-18, 1))
            ThreePointArc((-18, 1), (-16.5, -0.5), (-15, 1))
        make_face()
        with Locations((16.5, 1)):
            Circle(SKETCH_8_R)
    extrude(amount=-CUT_EXTRUDE_3_DEPTH, mode=Mode.SUBTRACT)


solid = part.part
